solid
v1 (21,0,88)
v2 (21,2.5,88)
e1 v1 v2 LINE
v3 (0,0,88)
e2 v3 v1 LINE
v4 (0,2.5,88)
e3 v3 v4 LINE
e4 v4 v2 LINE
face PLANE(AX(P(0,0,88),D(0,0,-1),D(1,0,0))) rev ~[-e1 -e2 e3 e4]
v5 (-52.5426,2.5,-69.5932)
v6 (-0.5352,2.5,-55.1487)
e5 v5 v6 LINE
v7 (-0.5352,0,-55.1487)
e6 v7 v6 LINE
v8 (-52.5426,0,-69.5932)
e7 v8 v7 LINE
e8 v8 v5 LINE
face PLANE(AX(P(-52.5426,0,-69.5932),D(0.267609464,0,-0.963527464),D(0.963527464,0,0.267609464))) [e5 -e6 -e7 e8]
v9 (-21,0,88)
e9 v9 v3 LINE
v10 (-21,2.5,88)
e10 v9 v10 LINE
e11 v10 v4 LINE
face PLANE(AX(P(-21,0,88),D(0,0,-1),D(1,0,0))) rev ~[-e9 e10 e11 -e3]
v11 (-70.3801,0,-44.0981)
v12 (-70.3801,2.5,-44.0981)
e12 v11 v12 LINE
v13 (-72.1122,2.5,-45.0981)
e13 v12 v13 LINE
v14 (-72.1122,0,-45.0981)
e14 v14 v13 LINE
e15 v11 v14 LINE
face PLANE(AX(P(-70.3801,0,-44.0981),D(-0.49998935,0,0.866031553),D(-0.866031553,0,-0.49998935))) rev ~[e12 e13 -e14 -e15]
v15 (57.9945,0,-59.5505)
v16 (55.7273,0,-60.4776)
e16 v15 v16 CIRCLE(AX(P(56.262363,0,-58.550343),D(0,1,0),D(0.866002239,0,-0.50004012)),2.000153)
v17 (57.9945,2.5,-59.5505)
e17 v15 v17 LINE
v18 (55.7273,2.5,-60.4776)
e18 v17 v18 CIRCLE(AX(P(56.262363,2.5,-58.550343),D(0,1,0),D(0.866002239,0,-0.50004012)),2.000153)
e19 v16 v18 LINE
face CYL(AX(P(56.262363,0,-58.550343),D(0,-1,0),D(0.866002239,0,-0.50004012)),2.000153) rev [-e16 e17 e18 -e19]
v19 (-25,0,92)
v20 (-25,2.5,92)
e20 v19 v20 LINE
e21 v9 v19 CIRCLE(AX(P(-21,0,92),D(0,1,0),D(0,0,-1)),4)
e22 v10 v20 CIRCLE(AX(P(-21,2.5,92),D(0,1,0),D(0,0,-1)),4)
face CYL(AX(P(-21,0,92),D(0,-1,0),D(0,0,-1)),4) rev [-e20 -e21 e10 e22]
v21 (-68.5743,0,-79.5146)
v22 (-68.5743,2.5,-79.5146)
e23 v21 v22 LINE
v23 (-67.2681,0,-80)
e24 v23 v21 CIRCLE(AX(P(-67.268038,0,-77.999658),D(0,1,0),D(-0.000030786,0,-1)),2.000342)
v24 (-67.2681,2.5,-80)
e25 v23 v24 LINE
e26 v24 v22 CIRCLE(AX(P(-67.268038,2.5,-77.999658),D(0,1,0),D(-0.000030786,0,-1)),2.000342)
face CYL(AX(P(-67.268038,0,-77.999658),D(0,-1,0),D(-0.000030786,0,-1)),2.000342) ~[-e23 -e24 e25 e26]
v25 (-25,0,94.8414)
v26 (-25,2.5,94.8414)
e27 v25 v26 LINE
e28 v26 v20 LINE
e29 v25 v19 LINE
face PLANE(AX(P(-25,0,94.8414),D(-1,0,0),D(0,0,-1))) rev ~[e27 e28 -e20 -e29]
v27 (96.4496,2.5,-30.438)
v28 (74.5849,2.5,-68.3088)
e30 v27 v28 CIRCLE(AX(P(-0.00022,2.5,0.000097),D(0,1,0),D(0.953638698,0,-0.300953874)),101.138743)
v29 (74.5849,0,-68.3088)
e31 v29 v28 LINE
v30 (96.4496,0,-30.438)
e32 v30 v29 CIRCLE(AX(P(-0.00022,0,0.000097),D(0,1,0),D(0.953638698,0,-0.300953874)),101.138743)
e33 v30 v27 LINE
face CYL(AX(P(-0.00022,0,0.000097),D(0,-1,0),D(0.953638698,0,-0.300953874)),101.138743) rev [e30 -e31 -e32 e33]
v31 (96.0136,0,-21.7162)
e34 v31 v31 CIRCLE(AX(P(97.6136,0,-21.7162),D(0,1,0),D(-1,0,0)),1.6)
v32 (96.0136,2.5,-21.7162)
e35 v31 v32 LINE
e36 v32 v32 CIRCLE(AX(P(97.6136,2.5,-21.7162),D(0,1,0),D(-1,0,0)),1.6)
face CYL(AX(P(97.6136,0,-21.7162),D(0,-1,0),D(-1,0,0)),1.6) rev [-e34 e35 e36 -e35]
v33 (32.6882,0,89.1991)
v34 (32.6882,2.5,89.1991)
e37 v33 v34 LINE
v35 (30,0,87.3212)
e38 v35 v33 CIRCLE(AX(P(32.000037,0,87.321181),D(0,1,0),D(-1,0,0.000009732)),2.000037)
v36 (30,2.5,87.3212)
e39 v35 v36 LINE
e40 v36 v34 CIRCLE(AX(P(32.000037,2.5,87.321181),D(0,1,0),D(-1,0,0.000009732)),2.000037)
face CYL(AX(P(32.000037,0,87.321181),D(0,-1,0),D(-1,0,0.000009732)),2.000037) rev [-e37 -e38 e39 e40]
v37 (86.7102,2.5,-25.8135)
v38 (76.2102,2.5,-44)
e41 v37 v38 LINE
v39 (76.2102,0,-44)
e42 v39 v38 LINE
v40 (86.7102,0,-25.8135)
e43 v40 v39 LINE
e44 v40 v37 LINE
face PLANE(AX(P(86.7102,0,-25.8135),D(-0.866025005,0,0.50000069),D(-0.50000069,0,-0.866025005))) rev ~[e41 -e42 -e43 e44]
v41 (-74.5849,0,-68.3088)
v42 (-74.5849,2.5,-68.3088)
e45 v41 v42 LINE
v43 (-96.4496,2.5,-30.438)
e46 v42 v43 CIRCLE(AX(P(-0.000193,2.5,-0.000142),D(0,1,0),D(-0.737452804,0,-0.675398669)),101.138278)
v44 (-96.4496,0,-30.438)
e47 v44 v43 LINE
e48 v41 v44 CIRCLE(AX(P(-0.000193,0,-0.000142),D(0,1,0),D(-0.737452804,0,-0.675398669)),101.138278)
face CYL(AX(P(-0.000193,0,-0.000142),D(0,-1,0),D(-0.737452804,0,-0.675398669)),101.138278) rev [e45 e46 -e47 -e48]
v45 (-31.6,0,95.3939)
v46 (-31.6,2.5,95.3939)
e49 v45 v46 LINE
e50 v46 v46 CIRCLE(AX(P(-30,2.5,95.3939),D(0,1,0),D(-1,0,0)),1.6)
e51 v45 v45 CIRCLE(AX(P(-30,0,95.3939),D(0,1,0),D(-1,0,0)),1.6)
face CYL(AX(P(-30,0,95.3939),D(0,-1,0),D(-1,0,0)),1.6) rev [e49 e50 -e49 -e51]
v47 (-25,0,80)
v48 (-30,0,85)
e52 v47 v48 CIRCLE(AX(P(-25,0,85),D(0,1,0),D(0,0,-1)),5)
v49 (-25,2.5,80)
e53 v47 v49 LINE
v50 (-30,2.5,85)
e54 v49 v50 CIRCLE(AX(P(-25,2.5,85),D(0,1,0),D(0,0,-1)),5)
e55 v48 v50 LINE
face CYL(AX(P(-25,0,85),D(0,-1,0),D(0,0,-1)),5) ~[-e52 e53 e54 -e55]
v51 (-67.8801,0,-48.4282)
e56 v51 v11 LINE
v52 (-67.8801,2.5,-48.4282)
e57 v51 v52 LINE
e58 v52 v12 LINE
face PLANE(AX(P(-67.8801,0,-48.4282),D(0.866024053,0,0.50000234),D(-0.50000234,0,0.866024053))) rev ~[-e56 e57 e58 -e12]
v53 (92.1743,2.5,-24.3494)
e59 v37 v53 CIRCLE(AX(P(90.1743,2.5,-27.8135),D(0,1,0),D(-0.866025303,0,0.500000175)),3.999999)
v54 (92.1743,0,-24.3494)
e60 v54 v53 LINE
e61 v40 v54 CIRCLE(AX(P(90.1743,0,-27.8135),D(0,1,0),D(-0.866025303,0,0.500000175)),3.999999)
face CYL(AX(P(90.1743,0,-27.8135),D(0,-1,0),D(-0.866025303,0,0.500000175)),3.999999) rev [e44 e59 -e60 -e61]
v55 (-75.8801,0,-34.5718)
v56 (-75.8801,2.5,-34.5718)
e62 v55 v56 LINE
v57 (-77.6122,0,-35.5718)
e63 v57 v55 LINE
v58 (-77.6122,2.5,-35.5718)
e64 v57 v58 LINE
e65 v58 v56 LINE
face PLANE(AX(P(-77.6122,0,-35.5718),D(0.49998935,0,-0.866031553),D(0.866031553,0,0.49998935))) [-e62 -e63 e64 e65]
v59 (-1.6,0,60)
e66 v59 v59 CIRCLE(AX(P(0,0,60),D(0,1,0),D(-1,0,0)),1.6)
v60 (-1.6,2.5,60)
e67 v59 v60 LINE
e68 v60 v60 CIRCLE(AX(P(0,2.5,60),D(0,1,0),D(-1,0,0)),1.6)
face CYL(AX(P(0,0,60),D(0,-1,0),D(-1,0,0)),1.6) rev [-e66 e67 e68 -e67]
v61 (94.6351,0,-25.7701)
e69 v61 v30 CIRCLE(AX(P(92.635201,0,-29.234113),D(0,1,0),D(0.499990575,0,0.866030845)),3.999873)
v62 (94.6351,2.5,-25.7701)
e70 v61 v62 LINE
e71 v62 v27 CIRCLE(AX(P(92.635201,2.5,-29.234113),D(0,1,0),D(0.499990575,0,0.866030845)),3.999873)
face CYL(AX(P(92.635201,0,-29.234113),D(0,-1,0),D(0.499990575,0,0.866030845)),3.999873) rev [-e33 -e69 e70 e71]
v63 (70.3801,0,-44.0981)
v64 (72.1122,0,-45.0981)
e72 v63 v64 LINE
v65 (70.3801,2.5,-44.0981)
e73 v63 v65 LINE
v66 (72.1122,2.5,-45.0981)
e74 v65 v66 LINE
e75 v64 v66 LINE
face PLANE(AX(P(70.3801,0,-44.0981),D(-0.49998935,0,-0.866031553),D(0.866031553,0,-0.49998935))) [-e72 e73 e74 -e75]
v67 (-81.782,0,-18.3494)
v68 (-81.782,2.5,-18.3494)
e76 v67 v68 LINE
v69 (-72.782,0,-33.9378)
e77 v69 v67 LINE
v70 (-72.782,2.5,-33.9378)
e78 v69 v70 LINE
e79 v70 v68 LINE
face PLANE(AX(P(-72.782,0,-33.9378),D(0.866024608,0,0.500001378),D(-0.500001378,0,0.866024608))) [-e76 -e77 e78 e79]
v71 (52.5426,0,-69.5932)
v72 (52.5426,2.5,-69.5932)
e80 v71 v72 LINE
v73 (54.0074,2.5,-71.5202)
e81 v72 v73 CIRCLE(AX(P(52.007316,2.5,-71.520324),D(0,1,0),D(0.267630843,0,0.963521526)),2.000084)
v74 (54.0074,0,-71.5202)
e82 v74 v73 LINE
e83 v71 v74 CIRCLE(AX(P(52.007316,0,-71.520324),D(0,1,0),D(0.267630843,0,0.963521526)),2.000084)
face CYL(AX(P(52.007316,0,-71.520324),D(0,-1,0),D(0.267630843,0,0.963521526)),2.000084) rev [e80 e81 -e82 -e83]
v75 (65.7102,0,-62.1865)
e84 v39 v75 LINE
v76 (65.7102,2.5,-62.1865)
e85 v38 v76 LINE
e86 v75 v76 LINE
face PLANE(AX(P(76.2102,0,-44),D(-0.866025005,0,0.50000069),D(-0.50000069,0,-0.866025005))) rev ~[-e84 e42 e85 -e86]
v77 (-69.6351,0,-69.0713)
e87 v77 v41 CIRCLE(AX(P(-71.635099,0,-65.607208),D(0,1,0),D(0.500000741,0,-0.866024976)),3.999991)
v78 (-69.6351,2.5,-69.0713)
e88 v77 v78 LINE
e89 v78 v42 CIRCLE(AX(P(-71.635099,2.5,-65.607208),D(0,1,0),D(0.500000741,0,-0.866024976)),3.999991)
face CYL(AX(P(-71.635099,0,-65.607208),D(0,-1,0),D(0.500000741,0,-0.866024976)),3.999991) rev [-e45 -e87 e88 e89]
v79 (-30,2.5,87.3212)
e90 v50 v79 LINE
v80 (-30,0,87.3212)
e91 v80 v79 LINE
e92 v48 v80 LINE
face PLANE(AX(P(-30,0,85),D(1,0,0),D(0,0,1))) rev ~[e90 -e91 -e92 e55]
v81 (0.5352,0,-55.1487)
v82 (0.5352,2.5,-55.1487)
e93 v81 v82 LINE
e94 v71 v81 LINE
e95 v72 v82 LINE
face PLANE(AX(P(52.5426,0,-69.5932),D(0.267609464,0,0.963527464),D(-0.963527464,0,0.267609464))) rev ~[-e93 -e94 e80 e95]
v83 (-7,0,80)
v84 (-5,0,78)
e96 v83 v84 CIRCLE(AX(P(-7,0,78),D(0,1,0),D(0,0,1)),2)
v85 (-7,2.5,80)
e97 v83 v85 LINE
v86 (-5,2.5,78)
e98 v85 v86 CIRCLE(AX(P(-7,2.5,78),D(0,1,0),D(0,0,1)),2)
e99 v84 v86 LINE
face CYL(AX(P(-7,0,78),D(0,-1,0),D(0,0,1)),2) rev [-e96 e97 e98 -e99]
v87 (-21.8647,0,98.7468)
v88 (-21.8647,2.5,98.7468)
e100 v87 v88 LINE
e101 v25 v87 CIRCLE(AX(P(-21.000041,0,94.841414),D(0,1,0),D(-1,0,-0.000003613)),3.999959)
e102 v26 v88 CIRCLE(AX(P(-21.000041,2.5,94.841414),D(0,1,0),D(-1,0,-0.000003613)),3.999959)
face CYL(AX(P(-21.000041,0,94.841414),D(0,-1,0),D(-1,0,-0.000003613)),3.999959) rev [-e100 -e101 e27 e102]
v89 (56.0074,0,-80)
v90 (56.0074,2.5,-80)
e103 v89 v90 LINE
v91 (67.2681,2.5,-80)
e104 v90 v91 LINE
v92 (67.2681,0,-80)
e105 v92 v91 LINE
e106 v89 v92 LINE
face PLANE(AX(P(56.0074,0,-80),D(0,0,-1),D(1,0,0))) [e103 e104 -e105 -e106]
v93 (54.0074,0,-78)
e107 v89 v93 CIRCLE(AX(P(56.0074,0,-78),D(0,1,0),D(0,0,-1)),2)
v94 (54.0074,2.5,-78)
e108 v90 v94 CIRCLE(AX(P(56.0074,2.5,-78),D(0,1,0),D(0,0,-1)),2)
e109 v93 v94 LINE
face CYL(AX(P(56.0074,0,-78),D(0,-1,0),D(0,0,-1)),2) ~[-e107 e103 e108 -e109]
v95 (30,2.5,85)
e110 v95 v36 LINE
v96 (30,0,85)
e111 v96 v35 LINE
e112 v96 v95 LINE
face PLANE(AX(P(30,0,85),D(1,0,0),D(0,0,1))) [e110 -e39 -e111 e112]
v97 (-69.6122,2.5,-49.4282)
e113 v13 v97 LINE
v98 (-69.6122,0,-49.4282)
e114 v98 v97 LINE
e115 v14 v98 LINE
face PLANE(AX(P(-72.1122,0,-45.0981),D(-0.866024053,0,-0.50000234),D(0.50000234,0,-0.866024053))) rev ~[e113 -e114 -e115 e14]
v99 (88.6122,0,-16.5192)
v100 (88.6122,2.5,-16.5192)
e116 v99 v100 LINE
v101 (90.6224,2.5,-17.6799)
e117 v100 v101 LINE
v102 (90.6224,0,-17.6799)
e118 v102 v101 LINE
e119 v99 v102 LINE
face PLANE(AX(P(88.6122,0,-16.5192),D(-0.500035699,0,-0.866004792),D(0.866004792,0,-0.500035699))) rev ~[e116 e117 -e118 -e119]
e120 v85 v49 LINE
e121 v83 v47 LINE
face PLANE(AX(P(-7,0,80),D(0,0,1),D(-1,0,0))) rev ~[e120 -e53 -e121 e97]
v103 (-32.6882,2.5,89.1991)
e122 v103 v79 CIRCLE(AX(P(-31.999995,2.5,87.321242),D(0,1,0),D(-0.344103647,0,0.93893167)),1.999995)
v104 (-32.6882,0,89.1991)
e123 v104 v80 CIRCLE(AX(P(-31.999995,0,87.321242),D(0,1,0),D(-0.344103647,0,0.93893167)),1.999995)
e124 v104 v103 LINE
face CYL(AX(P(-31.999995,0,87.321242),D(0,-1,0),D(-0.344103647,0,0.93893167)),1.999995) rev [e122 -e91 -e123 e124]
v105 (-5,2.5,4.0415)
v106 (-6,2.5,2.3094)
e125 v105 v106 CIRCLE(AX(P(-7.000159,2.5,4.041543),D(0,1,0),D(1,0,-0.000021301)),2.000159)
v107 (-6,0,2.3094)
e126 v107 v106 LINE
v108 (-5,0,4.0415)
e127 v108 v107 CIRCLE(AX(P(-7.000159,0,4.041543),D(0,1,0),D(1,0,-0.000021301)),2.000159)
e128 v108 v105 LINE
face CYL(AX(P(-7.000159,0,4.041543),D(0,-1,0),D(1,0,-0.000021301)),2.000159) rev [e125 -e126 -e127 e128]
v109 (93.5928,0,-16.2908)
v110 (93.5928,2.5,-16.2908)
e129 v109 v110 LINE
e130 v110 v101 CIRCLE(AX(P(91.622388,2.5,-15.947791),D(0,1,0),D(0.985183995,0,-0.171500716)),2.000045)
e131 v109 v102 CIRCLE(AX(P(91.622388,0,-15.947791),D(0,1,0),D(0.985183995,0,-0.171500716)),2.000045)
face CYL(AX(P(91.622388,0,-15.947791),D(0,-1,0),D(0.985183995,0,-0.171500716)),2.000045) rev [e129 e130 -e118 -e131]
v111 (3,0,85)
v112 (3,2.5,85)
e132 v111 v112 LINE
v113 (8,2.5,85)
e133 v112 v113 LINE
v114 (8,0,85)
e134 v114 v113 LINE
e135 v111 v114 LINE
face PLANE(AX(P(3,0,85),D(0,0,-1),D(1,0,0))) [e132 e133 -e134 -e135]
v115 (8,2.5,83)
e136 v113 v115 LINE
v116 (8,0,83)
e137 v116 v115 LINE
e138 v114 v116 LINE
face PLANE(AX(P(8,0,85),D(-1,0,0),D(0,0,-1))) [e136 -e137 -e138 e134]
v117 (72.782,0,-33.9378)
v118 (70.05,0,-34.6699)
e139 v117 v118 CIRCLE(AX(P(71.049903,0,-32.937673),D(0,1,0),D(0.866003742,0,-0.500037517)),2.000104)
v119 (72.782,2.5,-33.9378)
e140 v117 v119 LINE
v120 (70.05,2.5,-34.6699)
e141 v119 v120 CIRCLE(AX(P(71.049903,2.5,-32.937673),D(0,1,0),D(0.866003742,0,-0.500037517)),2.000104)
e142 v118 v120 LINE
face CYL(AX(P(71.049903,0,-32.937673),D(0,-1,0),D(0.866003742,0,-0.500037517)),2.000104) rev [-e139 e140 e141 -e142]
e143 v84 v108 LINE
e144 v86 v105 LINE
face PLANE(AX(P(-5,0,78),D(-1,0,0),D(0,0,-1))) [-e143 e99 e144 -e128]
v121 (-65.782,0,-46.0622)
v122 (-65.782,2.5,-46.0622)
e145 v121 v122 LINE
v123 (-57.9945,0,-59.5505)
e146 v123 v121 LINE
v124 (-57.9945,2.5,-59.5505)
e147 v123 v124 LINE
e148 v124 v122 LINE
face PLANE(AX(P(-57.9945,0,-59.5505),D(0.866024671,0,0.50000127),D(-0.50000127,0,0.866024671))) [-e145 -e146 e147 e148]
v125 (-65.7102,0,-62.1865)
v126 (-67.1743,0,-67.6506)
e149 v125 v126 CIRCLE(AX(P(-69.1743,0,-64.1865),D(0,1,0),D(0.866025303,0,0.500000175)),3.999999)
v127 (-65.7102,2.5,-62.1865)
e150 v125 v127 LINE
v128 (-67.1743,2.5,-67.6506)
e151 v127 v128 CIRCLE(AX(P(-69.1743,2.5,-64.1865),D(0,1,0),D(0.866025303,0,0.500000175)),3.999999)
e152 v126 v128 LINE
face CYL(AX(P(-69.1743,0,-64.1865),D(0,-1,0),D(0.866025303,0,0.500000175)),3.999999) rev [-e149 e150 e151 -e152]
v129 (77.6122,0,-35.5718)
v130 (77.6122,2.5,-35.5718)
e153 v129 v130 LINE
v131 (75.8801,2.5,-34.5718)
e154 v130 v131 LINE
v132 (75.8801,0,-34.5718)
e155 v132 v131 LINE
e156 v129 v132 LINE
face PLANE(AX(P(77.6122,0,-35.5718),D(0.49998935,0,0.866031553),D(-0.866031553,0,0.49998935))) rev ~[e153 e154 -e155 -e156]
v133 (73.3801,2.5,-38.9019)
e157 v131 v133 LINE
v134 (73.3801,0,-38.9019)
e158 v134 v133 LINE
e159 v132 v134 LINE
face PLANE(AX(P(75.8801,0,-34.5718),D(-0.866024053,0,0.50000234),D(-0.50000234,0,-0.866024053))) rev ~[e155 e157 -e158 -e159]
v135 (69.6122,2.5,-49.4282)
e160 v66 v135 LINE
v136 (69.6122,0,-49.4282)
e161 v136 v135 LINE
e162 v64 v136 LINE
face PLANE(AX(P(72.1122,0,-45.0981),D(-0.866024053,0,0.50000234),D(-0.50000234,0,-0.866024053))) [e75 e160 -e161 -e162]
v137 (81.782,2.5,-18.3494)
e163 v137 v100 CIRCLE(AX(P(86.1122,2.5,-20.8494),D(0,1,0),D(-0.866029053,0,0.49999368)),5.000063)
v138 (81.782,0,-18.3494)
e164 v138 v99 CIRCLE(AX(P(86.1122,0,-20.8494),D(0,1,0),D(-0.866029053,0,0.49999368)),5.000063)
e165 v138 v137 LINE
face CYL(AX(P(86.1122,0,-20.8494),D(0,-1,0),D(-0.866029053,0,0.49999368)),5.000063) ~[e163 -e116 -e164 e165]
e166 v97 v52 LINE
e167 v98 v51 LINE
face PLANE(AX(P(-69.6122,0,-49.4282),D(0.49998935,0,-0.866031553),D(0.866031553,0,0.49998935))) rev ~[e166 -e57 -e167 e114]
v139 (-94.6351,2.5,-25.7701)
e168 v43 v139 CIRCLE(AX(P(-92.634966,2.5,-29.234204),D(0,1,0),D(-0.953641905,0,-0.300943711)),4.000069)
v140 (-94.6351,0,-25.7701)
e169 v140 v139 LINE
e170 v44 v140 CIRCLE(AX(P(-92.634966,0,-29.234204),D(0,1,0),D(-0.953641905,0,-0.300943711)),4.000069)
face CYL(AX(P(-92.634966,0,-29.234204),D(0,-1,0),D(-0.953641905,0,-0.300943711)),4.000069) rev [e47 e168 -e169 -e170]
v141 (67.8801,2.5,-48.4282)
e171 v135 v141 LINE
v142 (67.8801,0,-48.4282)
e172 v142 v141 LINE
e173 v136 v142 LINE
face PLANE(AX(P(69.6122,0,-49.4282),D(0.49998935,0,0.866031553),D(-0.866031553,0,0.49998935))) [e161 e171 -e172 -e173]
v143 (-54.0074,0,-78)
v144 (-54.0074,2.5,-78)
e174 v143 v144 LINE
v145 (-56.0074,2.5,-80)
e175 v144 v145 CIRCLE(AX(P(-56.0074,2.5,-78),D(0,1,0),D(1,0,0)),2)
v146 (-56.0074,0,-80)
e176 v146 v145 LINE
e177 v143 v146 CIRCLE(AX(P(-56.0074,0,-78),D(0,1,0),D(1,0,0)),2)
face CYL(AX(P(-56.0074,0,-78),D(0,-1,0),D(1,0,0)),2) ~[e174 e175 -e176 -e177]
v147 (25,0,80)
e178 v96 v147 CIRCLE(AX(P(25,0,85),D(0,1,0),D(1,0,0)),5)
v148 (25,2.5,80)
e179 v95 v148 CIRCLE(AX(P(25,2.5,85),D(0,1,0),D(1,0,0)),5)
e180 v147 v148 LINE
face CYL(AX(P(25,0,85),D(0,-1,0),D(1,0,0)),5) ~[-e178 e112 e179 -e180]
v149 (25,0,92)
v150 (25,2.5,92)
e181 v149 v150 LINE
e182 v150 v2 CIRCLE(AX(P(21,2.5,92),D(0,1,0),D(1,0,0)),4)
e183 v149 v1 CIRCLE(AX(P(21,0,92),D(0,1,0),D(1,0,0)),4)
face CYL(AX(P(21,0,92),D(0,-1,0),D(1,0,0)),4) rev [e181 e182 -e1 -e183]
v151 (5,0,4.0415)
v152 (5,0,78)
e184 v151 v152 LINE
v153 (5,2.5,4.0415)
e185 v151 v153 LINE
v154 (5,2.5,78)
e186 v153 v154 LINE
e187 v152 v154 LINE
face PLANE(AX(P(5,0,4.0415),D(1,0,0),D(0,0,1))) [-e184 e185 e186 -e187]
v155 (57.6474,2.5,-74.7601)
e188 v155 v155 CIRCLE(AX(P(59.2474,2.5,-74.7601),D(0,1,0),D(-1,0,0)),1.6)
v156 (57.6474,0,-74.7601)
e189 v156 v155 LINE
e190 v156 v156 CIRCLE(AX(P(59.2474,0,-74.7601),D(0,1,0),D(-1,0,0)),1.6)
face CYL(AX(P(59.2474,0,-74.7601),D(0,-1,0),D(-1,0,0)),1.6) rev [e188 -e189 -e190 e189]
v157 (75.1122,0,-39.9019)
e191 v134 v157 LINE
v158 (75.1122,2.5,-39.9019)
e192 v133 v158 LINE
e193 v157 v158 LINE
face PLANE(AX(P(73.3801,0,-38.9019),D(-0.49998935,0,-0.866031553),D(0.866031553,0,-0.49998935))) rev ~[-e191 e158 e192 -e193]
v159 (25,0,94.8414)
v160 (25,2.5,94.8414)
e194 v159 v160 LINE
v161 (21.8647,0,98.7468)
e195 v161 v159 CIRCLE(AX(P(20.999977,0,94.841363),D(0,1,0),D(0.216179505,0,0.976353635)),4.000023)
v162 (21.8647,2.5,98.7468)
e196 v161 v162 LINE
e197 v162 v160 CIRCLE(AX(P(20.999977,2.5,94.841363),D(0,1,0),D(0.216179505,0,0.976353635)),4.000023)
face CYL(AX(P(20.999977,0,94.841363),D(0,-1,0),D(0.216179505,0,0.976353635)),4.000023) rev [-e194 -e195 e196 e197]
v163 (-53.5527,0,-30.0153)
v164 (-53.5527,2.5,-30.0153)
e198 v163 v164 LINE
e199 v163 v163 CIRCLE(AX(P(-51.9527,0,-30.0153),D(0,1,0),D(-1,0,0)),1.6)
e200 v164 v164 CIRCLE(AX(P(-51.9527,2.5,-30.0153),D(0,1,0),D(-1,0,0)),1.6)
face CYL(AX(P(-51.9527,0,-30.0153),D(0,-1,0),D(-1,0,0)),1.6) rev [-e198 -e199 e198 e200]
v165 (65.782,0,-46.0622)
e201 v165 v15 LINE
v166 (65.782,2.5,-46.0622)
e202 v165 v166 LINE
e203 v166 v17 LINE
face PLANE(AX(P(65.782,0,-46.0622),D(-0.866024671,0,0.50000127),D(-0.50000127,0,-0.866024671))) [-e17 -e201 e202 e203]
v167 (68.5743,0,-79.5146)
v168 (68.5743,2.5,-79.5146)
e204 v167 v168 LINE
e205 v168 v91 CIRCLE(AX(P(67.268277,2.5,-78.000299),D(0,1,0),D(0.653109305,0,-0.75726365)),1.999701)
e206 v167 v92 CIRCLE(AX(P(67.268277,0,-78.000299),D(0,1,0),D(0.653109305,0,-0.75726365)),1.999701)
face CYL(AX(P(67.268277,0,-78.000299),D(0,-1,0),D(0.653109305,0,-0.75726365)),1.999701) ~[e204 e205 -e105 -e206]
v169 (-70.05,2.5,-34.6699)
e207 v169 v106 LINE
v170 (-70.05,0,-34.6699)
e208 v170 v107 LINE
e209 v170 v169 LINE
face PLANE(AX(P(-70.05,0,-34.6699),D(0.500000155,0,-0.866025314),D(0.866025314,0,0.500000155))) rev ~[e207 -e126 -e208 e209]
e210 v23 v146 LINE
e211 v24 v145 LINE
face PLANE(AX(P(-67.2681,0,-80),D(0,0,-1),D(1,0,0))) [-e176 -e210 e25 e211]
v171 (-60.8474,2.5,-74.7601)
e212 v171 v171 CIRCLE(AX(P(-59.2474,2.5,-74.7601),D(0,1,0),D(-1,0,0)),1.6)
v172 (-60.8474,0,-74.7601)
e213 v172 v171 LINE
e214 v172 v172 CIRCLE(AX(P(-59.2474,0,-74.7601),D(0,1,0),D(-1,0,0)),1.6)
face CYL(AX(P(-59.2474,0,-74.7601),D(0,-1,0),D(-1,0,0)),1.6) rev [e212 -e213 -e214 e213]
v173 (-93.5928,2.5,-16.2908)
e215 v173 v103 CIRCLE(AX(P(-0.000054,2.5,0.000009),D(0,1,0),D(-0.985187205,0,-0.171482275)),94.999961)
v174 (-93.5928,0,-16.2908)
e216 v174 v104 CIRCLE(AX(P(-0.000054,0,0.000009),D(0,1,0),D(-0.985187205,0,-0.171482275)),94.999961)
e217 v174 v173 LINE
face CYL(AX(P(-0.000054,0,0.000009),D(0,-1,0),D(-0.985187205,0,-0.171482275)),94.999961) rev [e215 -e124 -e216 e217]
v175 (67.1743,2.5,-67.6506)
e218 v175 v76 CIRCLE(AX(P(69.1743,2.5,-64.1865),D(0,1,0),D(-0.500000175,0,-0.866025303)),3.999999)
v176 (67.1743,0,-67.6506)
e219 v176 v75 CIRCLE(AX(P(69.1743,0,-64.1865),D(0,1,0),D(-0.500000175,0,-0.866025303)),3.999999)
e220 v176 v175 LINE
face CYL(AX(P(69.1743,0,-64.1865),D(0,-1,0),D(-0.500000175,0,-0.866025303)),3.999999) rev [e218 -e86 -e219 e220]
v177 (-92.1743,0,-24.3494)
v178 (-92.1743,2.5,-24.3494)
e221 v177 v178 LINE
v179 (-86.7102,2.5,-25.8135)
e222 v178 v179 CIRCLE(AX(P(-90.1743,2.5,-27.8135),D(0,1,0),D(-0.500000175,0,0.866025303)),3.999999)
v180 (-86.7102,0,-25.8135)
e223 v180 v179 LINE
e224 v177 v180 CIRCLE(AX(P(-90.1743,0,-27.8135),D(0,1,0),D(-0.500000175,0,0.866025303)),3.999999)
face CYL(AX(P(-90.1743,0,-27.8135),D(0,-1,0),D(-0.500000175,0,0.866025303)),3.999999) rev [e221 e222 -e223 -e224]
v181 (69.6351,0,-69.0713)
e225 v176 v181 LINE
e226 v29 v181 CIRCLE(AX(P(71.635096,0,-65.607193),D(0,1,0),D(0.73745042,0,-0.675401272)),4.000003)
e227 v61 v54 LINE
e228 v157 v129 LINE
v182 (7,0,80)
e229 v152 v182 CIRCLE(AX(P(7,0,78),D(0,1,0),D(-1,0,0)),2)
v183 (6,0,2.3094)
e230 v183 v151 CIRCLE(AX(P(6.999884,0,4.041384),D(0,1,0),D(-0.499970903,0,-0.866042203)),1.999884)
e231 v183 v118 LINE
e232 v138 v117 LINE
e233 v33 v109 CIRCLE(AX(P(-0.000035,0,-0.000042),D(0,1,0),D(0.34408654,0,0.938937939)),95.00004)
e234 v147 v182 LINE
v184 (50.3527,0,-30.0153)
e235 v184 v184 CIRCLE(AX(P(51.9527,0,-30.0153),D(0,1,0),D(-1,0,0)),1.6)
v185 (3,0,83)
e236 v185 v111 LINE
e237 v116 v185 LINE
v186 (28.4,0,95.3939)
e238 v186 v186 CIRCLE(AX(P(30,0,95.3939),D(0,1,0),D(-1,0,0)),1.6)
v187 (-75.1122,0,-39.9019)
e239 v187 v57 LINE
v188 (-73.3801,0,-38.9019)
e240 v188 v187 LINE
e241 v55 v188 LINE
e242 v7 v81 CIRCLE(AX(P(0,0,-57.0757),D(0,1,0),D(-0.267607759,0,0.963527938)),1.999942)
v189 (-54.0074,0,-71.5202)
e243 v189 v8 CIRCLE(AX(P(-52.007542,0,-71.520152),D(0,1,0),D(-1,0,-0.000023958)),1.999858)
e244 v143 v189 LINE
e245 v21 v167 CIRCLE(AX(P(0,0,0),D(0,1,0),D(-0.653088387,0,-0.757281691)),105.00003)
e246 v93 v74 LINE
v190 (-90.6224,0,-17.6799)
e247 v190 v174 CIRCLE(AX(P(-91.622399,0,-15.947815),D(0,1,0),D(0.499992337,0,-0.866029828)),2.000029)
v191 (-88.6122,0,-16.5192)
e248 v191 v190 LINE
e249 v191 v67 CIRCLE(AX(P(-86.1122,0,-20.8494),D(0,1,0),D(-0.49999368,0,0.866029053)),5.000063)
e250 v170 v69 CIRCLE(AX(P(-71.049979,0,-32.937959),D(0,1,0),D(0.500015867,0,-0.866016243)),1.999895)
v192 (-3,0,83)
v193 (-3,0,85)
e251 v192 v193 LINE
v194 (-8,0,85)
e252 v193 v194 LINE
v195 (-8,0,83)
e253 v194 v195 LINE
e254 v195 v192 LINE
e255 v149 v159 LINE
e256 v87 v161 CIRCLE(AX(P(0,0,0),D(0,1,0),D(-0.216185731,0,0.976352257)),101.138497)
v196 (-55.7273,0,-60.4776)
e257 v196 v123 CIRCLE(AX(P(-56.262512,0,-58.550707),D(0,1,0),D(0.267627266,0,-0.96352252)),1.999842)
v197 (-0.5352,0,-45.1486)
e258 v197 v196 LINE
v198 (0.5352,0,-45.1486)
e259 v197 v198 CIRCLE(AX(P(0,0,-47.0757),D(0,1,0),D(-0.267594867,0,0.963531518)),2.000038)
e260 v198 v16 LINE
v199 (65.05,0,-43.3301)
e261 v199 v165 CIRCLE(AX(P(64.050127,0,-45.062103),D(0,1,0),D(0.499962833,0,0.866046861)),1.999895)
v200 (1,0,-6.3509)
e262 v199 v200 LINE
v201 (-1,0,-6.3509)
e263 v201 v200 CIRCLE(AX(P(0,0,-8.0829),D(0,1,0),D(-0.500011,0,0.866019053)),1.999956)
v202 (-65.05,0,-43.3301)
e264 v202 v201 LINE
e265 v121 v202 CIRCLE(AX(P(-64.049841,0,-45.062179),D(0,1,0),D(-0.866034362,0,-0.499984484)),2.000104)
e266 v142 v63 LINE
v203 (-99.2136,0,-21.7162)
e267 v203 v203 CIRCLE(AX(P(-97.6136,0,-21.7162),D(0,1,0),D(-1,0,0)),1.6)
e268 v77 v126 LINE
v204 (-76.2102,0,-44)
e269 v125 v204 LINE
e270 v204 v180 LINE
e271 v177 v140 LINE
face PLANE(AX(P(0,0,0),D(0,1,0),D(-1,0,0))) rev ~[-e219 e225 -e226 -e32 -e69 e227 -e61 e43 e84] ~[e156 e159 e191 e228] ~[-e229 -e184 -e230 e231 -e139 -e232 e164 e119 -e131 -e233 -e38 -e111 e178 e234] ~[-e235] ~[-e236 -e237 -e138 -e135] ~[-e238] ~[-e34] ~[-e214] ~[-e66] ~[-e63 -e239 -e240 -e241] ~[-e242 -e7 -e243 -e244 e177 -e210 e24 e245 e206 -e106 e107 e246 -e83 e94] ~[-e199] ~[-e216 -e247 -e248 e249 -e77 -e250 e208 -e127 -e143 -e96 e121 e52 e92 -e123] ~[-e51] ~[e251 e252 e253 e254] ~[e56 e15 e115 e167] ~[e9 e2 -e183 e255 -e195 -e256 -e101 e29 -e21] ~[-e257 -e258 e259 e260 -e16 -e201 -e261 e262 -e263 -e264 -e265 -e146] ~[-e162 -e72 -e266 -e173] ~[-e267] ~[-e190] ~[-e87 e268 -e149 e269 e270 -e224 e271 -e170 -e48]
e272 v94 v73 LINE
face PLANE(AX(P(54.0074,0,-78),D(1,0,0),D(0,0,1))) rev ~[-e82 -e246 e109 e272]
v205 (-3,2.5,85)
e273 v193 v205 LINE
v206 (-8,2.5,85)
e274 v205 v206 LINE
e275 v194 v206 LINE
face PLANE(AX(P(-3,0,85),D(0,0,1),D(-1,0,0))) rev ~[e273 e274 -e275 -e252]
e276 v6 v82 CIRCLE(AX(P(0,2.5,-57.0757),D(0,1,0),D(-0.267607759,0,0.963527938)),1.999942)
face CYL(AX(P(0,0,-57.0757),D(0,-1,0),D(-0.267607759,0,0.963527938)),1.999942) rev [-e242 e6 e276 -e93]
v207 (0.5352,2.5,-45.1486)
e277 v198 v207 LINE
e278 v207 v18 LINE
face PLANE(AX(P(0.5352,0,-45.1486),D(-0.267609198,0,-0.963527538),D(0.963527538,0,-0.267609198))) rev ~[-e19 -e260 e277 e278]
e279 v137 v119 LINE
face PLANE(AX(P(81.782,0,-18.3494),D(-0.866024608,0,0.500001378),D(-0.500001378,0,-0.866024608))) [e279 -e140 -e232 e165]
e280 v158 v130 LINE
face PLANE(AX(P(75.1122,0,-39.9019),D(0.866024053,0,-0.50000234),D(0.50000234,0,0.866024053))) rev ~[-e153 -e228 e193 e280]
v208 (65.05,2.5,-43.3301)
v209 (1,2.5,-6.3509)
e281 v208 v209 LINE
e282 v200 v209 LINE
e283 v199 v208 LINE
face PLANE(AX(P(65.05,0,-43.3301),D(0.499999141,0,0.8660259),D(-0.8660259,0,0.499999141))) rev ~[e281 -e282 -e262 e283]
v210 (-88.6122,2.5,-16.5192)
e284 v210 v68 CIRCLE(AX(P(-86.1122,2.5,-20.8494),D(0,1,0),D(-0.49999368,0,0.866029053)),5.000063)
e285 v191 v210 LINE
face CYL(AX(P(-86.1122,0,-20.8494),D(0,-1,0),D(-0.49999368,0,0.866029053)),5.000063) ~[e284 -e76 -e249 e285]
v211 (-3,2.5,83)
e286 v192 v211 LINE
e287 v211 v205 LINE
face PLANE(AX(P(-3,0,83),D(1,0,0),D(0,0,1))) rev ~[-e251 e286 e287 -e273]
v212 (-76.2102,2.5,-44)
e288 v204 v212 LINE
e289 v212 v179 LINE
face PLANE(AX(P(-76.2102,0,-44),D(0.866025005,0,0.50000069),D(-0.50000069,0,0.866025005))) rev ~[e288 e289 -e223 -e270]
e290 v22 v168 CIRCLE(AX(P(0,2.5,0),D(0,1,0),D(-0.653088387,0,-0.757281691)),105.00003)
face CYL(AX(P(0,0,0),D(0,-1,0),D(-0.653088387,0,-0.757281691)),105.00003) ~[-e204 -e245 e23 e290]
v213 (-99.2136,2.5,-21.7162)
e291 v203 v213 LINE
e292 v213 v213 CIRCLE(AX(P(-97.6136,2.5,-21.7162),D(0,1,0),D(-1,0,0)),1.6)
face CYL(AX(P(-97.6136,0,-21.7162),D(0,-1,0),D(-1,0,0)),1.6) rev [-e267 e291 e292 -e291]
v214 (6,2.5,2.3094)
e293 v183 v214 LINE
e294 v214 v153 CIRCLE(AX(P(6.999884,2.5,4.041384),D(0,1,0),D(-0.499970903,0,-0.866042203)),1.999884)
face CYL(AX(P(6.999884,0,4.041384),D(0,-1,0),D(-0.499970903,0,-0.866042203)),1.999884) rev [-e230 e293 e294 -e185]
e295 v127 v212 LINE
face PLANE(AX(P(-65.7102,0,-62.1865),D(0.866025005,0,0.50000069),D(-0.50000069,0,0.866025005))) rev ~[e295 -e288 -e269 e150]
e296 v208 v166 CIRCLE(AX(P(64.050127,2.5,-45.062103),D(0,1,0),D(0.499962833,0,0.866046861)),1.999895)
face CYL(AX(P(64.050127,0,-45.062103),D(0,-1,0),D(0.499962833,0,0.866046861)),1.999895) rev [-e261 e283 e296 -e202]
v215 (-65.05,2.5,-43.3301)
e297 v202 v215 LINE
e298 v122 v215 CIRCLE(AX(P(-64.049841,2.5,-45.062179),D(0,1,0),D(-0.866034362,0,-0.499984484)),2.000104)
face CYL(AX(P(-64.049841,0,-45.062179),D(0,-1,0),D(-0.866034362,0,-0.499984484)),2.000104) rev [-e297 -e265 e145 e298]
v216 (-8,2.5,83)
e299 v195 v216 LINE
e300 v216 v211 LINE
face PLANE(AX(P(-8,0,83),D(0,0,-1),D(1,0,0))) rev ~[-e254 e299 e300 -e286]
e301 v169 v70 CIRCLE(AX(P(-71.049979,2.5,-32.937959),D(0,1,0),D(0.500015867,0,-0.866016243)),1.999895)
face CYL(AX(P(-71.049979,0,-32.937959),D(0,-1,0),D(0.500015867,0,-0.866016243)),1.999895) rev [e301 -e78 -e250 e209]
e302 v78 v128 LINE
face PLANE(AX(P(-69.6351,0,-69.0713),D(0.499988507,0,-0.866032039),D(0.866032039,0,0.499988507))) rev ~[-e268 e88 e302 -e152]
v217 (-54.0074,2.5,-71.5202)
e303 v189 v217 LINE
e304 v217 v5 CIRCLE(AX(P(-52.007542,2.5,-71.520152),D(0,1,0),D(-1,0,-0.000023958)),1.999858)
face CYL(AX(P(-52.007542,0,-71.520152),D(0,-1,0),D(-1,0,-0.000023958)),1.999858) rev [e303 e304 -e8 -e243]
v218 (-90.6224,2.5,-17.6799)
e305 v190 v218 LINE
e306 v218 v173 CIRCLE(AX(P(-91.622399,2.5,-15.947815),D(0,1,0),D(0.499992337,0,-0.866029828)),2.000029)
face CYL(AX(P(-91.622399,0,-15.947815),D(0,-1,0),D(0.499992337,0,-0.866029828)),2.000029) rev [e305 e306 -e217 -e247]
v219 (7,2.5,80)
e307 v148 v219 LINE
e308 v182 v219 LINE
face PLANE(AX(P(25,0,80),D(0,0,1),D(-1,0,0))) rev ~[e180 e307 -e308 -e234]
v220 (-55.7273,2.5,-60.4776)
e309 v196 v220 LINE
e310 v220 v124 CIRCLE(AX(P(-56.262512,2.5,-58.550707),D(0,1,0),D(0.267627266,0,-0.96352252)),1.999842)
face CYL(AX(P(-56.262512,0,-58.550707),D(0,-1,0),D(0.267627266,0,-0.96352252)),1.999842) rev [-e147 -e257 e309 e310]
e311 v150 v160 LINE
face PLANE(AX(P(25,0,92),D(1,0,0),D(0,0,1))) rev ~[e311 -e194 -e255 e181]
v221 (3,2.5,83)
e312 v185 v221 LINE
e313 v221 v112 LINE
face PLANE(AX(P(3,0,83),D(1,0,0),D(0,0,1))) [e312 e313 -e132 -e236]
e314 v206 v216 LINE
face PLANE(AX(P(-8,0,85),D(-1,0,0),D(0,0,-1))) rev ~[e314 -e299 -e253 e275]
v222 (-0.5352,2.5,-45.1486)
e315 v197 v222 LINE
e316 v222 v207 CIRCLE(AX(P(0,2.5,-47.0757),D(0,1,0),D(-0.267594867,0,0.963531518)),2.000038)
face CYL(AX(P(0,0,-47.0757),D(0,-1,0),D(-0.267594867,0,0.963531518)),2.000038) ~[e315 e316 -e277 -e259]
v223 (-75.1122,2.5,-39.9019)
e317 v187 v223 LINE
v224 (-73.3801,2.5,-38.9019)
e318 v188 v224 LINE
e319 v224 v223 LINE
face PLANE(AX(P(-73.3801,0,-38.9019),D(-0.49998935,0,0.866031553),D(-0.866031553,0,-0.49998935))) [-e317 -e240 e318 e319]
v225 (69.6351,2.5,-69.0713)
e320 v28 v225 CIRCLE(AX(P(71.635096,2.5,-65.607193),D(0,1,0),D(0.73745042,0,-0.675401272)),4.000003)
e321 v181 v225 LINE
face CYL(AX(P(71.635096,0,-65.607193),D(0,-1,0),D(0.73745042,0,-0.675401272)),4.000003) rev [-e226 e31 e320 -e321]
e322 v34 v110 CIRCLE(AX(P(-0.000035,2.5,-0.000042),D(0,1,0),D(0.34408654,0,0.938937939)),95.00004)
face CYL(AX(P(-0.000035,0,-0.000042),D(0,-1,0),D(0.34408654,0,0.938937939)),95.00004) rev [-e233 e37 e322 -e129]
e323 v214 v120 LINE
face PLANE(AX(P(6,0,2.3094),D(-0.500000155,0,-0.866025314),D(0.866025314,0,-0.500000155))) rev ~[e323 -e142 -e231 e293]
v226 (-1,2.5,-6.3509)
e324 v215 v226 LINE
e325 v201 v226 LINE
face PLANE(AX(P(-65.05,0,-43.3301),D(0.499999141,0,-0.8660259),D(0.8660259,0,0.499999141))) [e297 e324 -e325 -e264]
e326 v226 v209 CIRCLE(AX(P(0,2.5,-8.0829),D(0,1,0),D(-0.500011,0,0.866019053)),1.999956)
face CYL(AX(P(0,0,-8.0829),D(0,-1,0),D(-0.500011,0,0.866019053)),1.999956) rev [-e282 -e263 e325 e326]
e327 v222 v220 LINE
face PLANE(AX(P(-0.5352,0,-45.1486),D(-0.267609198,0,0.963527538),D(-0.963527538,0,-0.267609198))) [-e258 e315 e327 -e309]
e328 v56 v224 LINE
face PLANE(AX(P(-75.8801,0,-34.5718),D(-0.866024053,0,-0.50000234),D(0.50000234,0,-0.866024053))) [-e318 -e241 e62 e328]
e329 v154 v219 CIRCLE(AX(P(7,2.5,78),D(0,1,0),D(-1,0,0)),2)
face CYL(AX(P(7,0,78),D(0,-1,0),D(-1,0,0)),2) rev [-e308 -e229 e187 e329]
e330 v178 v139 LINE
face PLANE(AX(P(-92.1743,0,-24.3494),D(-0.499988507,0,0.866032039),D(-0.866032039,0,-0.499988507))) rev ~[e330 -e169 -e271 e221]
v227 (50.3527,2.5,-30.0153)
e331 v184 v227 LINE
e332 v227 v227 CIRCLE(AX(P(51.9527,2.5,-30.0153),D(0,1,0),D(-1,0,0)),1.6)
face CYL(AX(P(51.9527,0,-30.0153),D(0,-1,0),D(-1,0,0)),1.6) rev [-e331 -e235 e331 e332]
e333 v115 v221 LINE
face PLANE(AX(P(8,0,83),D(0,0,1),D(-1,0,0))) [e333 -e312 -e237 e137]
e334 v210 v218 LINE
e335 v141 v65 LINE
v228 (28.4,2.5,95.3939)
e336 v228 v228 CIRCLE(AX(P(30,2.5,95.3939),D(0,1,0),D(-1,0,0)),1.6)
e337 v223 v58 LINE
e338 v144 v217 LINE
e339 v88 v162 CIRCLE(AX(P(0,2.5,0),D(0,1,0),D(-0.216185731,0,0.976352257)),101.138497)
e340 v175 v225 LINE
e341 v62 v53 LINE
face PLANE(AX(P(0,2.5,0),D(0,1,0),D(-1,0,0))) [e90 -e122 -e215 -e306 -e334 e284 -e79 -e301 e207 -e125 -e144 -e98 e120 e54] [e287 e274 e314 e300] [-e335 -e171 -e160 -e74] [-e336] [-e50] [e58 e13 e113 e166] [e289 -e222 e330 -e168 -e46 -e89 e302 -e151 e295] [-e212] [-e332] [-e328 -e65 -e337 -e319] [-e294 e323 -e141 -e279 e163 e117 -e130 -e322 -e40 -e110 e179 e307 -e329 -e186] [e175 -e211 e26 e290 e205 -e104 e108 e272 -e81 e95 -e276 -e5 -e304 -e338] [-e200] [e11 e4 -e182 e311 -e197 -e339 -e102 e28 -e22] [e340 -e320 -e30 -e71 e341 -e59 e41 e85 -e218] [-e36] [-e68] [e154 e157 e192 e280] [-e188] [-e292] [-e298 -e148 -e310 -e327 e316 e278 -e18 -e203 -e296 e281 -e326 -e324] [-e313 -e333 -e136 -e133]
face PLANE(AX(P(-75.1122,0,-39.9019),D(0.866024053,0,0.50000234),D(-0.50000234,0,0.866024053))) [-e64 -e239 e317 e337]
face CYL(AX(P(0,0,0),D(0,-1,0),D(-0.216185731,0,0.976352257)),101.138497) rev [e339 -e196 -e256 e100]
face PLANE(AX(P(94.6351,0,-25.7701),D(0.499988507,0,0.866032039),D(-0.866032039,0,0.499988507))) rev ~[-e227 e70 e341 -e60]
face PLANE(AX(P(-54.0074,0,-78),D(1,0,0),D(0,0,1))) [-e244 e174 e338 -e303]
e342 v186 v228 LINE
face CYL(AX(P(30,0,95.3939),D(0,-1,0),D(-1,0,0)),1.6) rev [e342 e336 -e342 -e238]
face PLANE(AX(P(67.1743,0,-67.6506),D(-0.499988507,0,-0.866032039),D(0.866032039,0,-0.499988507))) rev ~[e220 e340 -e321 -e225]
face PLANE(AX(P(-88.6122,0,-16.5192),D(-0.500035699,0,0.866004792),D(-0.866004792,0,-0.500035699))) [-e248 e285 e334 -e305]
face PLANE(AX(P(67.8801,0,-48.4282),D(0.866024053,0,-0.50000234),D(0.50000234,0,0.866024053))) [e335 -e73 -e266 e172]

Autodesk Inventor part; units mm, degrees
ref_plane "YZ Plane" through (0, 0, 0) normal (1, 0, 0) x (0, 1, 0)
ref_plane "XZ Plane" through (0, 0, 0) normal (0, 1, 0) x (-1, 0, 0)
ref_plane "XY Plane" through (0, 0, 0) normal (0, 0, 1) x (1, 0, 0)
sketch "Sketch1" plane through (0, 0, 0) normal (0, 1, 0) x (-1, 0, 0)
  circle A0 centre (-51.9527, -30.0153) radius 1.6
  circle A1 centre (0, 60) radius 1.6
  circle A2 centre (51.9527, -30.0153) radius 1.6
  line L0 (-76.2102, -44) -> (-65.7102, -62.1865)
  line L1 (-67.1743, -67.6506) -> (-69.6351, -69.0713)
  line L2 (-94.6351, -25.7701) -> (-92.1743, -24.3494)
  line L3 (-86.7102, -25.8135) -> (-76.2102, -44)
  arc A3 (-96.4496, -30.438) -> (-74.5849, -68.3088) centre (0, 0) ccw
  arc A4 (-94.6351, -25.7701) -> (-96.4496, -30.438) centre (-92.6351, -29.2342) ccw
  arc A5 (-86.7102, -25.8135) -> (-92.1743, -24.3494) centre (-90.1743, -27.8135) ccw
  arc A6 (-67.1743, -67.6506) -> (-65.7102, -62.1865) centre (-69.1743, -64.1865) ccw
  arc A7 (-74.5849, -68.3088) -> (-69.6351, -69.0713) centre (-71.6351, -65.6072) ccw
  line L4 (65.7102, -62.1865) -> (76.2102, -44)
  arc A8 (74.5849, -68.3088) -> (96.4496, -30.438) centre (0, 0) ccw
  arc A9 (65.7102, -62.1865) -> (67.1743, -67.6506) centre (69.1743, -64.1865) ccw
  line L5 (69.6351, -69.0713) -> (67.1743, -67.6506)
  arc A10 (69.6351, -69.0713) -> (74.5849, -68.3088) centre (71.6351, -65.6072) ccw
  arc A11 (92.1743, -24.3494) -> (86.7102, -25.8135) centre (90.1743, -27.8135) ccw
  line L6 (92.1743, -24.3494) -> (94.6351, -25.7701)
  arc A12 (96.4496, -30.438) -> (94.6351, -25.7701) centre (92.6351, -29.2342) ccw
  line L7 (76.2102, -44) -> (86.7102, -25.8135)
  line L8 (21, 88) -> (0, 88)
  arc A13 (21.8647, 98.7468) -> (-21.8647, 98.7468) centre (0, 0) ccw
  arc A14 (21, 88) -> (25, 92) centre (21, 92) ccw
  line L9 (25, 94.8414) -> (25, 92)
  arc A15 (25, 94.8414) -> (21.8647, 98.7468) centre (21, 94.8414) ccw
  arc A16 (-25, 92) -> (-21, 88) centre (-21, 92) ccw
  line L10 (-25, 92) -> (-25, 94.8414)
  arc A17 (-21.8647, 98.7468) -> (-25, 94.8414) centre (-21, 94.8414) ccw
  line L11 (0, 88) -> (-21, 88)
  line L12 (-75.1122, -39.9019) -> (-77.6122, -35.5718)
  line L13 (-77.6122, -35.5718) -> (-75.8801, -34.5718)
  line L14 (-75.8801, -34.5718) -> (-73.3801, -38.9019)
  line L15 (-73.3801, -38.9019) -> (-75.1122, -39.9019)
  line L16 (-70.3801, -44.0981) -> (-72.1122, -45.0981)
  line L17 (-67.8801, -48.4282) -> (-70.3801, -44.0981)
  line L18 (-69.6122, -49.4282) -> (-67.8801, -48.4282)
  line L19 (-72.1122, -45.0981) -> (-69.6122, -49.4282)
  line L20 (70.3801, -44.0981) -> (72.1122, -45.0981)
  line L21 (72.1122, -45.0981) -> (69.6122, -49.4282)
  line L22 (67.8801, -48.4282) -> (70.3801, -44.0981)
  line L23 (69.6122, -49.4282) -> (67.8801, -48.4282)
  line L24 (75.8801, -34.5718) -> (73.3801, -38.9019)
  line L25 (75.1122, -39.9019) -> (77.6122, -35.5718)
  line L26 (73.3801, -38.9019) -> (75.1122, -39.9019)
  line L27 (77.6122, -35.5718) -> (75.8801, -34.5718)
  line L28 (3, 83) -> (3, 85)
  line L29 (3, 85) -> (8, 85)
  line L30 (8, 83) -> (3, 83)
  line L31 (8, 85) -> (8, 83)
  line L32 (-8, 83) -> (-3, 83)
  line L33 (-3, 85) -> (-8, 85)
  line L34 (-3, 83) -> (-3, 85)
  line L35 (-8, 85) -> (-8, 83)
  line L36 (54.0074, -78) -> (54.0074, -71.5202)
  line L37 (52.5426, -69.5932) -> (0.5352, -55.1487)
  line L38 (-52.5426, -69.5932) -> (-0.5352, -55.1487)
  line L39 (-54.0074, -78) -> (-54.0074, -71.5202)
  arc A18 (68.5743, -79.5146) -> (-68.5743, -79.5146) centre (0, 0) ccw
  line L40 (67.2681, -80) -> (56.0074, -80)
  line L41 (-56.0074, -80) -> (-67.2681, -80)
  arc A19 (54.0074, -78) -> (56.0074, -80) centre (56.0074, -78) ccw
  arc A20 (67.2681, -80) -> (68.5743, -79.5146) centre (67.2681, -78) ccw
  arc A21 (54.0074, -71.5202) -> (52.5426, -69.5932) centre (52.0074, -71.5202) ccw
  arc A22 (0.5352, -55.1487) -> (-0.5352, -55.1487) centre (0, -57.0757) ccw
  arc A23 (-52.5426, -69.5932) -> (-54.0074, -71.5202) centre (-52.0074, -71.5202) ccw
  arc A24 (-56.0074, -80) -> (-54.0074, -78) centre (-56.0074, -78) ccw
  arc A25 (-68.5743, -79.5146) -> (-67.2681, -80) centre (-67.2681, -78) ccw
  line L42 (-30, 85) -> (-30, 87.3212)
  line L43 (30, 85) -> (30, 87.3212)
  arc A26 (-30, 85) -> (-25, 80) centre (-25, 85) ccw
  arc A27 (25, 80) -> (30, 85) centre (25, 85) ccw
  circle A28 centre (-30, 95.3939) radius 1.6
  circle A29 centre (30, 95.3939) radius 1.6
  arc A30 (-81.782, -18.3494) -> (-88.6122, -16.5192) centre (-86.1122, -20.8494) ccw
  line L44 (-88.6122, -16.5192) -> (-90.6224, -17.6799)
  circle A31 centre (-97.6136, -21.7162) radius 1.6
  arc A32 (88.6122, -16.5192) -> (81.782, -18.3494) centre (86.1122, -20.8494) ccw
  line L45 (88.6122, -16.5192) -> (90.6224, -17.6799)
  circle A33 centre (97.6136, -21.7162) radius 1.6
  arc A34 (-32.6882, 89.1991) -> (-93.5928, -16.2908) centre (0, 0) ccw
  arc A35 (93.5928, -16.2908) -> (32.6882, 89.1991) centre (0, 0) ccw
  arc A36 (-30, 87.3212) -> (-32.6882, 89.1991) centre (-32, 87.3212) ccw
  arc A37 (32.6882, 89.1991) -> (30, 87.3212) centre (32, 87.3212) ccw
  arc A38 (90.6224, -17.6799) -> (93.5928, -16.2908) centre (91.6224, -15.9478) ccw
  arc A39 (-93.5928, -16.2908) -> (-90.6224, -17.6799) centre (-91.6224, -15.9478) ccw
  arc A40 (-57.9945, -59.5505) -> (-55.7273, -60.4776) centre (-56.2625, -58.5505) ccw
  arc A41 (55.7273, -60.4776) -> (57.9945, -59.5505) centre (56.2625, -58.5505) ccw
  arc A42 (-6, 2.3094) -> (-5, 4.0415) centre (-7, 4.0415) ccw
  arc A43 (5, 4.0415) -> (6, 2.3094) centre (7, 4.0415) ccw
  arc A44 (1, -6.3509) -> (-1, -6.3509) centre (0, -8.0829) ccw
  line L46 (-81.782, -18.3494) -> (-72.782, -33.9378)
  line L47 (-65.782, -46.0622) -> (-57.9945, -59.5505)
  line L48 (57.9945, -59.5505) -> (65.782, -46.0622)
  line L49 (72.782, -33.9378) -> (81.782, -18.3494)
  line L50 (-25, 80) -> (-7, 80)
  arc A45 (-65.05, -43.3301) -> (-65.782, -46.0622) centre (-64.05, -45.0622) ccw
  arc A46 (-72.782, -33.9378) -> (-70.05, -34.6699) centre (-71.05, -32.9378) ccw
  arc A47 (65.782, -46.0622) -> (65.05, -43.3301) centre (64.05, -45.0622) ccw
  arc A48 (70.05, -34.6699) -> (72.782, -33.9378) centre (71.05, -32.9378) ccw
  line L51 (7, 80) -> (25, 80)
  line L52 (5, 78) -> (5, 4.0415)
  line L53 (-5, 4.0415) -> (-5, 78)
  line L54 (-6, 2.3094) -> (-70.05, -34.6699)
  line L55 (-65.05, -43.3301) -> (-1, -6.3509)
  line L56 (65.05, -43.3301) -> (1, -6.3509)
  line L57 (70.05, -34.6699) -> (6, 2.3094)
  line L58 (0.5352, -45.1486) -> (55.7273, -60.4776)
  line L59 (-0.5352, -45.1486) -> (-55.7273, -60.4776)
  arc A49 (0.5352, -45.1486) -> (-0.5352, -45.1486) centre (0, -47.0757) ccw
  arc A50 (7, 80) -> (5, 78) centre (7, 78) ccw
  arc A51 (-5, 78) -> (-7, 80) centre (-7, 78) ccw
  circle A52 centre (-59.2474, -74.7601) radius 1.6
  circle A53 centre (59.2474, -74.7601) radius 1.6
  point P0 (-63.7102, -65.6506)
  point P1 (-72.3705, -70.6506)
  point P2 (-97.3705, -27.3494)
  point P3 (88.7102, -22.3494)
  point P4 (97.3705, -27.3494)
  point P5 (-25, 88)
  point P6 (-25, 98)
  point P7 (68.0074, -80)
  point P8 (-68.0074, -80)
  point P9 (-30, 80)
  point P10 (-30, 90.1388)
  point P11 (30, 80)
  point P12 (30, 90.1388)
  point P13 (-84.282, -14.0192)
  point P14 (-93.0625, -19.0886)
  point P15 (84.282, -14.0192)
  point P16 (93.0625, -19.0886)
  point P17 (71.782, -35.6699)
  point P18 (66.782, -44.3301)
  point P19 (5, 80)
  point P20 (-5, 80)
  point P21 (-71.782, -35.6699)
  point P22 (-66.782, -44.3301)
  dimension "d45" = 360
  dimension "d46" = 360
  dimension "d126" = 360
  dimension "d121" = 2
  dimension "d122" = 2
  dimension "d123" = 2
  dimension "d124" = 2
  dimension "d128" = 2
  dimension "d130" = 3.2
extrude "Extrusion1" add sketch "Sketch1" along normal blind 2.5
properties part number "Middle Plate" material "Polycarbonate, Clear"
